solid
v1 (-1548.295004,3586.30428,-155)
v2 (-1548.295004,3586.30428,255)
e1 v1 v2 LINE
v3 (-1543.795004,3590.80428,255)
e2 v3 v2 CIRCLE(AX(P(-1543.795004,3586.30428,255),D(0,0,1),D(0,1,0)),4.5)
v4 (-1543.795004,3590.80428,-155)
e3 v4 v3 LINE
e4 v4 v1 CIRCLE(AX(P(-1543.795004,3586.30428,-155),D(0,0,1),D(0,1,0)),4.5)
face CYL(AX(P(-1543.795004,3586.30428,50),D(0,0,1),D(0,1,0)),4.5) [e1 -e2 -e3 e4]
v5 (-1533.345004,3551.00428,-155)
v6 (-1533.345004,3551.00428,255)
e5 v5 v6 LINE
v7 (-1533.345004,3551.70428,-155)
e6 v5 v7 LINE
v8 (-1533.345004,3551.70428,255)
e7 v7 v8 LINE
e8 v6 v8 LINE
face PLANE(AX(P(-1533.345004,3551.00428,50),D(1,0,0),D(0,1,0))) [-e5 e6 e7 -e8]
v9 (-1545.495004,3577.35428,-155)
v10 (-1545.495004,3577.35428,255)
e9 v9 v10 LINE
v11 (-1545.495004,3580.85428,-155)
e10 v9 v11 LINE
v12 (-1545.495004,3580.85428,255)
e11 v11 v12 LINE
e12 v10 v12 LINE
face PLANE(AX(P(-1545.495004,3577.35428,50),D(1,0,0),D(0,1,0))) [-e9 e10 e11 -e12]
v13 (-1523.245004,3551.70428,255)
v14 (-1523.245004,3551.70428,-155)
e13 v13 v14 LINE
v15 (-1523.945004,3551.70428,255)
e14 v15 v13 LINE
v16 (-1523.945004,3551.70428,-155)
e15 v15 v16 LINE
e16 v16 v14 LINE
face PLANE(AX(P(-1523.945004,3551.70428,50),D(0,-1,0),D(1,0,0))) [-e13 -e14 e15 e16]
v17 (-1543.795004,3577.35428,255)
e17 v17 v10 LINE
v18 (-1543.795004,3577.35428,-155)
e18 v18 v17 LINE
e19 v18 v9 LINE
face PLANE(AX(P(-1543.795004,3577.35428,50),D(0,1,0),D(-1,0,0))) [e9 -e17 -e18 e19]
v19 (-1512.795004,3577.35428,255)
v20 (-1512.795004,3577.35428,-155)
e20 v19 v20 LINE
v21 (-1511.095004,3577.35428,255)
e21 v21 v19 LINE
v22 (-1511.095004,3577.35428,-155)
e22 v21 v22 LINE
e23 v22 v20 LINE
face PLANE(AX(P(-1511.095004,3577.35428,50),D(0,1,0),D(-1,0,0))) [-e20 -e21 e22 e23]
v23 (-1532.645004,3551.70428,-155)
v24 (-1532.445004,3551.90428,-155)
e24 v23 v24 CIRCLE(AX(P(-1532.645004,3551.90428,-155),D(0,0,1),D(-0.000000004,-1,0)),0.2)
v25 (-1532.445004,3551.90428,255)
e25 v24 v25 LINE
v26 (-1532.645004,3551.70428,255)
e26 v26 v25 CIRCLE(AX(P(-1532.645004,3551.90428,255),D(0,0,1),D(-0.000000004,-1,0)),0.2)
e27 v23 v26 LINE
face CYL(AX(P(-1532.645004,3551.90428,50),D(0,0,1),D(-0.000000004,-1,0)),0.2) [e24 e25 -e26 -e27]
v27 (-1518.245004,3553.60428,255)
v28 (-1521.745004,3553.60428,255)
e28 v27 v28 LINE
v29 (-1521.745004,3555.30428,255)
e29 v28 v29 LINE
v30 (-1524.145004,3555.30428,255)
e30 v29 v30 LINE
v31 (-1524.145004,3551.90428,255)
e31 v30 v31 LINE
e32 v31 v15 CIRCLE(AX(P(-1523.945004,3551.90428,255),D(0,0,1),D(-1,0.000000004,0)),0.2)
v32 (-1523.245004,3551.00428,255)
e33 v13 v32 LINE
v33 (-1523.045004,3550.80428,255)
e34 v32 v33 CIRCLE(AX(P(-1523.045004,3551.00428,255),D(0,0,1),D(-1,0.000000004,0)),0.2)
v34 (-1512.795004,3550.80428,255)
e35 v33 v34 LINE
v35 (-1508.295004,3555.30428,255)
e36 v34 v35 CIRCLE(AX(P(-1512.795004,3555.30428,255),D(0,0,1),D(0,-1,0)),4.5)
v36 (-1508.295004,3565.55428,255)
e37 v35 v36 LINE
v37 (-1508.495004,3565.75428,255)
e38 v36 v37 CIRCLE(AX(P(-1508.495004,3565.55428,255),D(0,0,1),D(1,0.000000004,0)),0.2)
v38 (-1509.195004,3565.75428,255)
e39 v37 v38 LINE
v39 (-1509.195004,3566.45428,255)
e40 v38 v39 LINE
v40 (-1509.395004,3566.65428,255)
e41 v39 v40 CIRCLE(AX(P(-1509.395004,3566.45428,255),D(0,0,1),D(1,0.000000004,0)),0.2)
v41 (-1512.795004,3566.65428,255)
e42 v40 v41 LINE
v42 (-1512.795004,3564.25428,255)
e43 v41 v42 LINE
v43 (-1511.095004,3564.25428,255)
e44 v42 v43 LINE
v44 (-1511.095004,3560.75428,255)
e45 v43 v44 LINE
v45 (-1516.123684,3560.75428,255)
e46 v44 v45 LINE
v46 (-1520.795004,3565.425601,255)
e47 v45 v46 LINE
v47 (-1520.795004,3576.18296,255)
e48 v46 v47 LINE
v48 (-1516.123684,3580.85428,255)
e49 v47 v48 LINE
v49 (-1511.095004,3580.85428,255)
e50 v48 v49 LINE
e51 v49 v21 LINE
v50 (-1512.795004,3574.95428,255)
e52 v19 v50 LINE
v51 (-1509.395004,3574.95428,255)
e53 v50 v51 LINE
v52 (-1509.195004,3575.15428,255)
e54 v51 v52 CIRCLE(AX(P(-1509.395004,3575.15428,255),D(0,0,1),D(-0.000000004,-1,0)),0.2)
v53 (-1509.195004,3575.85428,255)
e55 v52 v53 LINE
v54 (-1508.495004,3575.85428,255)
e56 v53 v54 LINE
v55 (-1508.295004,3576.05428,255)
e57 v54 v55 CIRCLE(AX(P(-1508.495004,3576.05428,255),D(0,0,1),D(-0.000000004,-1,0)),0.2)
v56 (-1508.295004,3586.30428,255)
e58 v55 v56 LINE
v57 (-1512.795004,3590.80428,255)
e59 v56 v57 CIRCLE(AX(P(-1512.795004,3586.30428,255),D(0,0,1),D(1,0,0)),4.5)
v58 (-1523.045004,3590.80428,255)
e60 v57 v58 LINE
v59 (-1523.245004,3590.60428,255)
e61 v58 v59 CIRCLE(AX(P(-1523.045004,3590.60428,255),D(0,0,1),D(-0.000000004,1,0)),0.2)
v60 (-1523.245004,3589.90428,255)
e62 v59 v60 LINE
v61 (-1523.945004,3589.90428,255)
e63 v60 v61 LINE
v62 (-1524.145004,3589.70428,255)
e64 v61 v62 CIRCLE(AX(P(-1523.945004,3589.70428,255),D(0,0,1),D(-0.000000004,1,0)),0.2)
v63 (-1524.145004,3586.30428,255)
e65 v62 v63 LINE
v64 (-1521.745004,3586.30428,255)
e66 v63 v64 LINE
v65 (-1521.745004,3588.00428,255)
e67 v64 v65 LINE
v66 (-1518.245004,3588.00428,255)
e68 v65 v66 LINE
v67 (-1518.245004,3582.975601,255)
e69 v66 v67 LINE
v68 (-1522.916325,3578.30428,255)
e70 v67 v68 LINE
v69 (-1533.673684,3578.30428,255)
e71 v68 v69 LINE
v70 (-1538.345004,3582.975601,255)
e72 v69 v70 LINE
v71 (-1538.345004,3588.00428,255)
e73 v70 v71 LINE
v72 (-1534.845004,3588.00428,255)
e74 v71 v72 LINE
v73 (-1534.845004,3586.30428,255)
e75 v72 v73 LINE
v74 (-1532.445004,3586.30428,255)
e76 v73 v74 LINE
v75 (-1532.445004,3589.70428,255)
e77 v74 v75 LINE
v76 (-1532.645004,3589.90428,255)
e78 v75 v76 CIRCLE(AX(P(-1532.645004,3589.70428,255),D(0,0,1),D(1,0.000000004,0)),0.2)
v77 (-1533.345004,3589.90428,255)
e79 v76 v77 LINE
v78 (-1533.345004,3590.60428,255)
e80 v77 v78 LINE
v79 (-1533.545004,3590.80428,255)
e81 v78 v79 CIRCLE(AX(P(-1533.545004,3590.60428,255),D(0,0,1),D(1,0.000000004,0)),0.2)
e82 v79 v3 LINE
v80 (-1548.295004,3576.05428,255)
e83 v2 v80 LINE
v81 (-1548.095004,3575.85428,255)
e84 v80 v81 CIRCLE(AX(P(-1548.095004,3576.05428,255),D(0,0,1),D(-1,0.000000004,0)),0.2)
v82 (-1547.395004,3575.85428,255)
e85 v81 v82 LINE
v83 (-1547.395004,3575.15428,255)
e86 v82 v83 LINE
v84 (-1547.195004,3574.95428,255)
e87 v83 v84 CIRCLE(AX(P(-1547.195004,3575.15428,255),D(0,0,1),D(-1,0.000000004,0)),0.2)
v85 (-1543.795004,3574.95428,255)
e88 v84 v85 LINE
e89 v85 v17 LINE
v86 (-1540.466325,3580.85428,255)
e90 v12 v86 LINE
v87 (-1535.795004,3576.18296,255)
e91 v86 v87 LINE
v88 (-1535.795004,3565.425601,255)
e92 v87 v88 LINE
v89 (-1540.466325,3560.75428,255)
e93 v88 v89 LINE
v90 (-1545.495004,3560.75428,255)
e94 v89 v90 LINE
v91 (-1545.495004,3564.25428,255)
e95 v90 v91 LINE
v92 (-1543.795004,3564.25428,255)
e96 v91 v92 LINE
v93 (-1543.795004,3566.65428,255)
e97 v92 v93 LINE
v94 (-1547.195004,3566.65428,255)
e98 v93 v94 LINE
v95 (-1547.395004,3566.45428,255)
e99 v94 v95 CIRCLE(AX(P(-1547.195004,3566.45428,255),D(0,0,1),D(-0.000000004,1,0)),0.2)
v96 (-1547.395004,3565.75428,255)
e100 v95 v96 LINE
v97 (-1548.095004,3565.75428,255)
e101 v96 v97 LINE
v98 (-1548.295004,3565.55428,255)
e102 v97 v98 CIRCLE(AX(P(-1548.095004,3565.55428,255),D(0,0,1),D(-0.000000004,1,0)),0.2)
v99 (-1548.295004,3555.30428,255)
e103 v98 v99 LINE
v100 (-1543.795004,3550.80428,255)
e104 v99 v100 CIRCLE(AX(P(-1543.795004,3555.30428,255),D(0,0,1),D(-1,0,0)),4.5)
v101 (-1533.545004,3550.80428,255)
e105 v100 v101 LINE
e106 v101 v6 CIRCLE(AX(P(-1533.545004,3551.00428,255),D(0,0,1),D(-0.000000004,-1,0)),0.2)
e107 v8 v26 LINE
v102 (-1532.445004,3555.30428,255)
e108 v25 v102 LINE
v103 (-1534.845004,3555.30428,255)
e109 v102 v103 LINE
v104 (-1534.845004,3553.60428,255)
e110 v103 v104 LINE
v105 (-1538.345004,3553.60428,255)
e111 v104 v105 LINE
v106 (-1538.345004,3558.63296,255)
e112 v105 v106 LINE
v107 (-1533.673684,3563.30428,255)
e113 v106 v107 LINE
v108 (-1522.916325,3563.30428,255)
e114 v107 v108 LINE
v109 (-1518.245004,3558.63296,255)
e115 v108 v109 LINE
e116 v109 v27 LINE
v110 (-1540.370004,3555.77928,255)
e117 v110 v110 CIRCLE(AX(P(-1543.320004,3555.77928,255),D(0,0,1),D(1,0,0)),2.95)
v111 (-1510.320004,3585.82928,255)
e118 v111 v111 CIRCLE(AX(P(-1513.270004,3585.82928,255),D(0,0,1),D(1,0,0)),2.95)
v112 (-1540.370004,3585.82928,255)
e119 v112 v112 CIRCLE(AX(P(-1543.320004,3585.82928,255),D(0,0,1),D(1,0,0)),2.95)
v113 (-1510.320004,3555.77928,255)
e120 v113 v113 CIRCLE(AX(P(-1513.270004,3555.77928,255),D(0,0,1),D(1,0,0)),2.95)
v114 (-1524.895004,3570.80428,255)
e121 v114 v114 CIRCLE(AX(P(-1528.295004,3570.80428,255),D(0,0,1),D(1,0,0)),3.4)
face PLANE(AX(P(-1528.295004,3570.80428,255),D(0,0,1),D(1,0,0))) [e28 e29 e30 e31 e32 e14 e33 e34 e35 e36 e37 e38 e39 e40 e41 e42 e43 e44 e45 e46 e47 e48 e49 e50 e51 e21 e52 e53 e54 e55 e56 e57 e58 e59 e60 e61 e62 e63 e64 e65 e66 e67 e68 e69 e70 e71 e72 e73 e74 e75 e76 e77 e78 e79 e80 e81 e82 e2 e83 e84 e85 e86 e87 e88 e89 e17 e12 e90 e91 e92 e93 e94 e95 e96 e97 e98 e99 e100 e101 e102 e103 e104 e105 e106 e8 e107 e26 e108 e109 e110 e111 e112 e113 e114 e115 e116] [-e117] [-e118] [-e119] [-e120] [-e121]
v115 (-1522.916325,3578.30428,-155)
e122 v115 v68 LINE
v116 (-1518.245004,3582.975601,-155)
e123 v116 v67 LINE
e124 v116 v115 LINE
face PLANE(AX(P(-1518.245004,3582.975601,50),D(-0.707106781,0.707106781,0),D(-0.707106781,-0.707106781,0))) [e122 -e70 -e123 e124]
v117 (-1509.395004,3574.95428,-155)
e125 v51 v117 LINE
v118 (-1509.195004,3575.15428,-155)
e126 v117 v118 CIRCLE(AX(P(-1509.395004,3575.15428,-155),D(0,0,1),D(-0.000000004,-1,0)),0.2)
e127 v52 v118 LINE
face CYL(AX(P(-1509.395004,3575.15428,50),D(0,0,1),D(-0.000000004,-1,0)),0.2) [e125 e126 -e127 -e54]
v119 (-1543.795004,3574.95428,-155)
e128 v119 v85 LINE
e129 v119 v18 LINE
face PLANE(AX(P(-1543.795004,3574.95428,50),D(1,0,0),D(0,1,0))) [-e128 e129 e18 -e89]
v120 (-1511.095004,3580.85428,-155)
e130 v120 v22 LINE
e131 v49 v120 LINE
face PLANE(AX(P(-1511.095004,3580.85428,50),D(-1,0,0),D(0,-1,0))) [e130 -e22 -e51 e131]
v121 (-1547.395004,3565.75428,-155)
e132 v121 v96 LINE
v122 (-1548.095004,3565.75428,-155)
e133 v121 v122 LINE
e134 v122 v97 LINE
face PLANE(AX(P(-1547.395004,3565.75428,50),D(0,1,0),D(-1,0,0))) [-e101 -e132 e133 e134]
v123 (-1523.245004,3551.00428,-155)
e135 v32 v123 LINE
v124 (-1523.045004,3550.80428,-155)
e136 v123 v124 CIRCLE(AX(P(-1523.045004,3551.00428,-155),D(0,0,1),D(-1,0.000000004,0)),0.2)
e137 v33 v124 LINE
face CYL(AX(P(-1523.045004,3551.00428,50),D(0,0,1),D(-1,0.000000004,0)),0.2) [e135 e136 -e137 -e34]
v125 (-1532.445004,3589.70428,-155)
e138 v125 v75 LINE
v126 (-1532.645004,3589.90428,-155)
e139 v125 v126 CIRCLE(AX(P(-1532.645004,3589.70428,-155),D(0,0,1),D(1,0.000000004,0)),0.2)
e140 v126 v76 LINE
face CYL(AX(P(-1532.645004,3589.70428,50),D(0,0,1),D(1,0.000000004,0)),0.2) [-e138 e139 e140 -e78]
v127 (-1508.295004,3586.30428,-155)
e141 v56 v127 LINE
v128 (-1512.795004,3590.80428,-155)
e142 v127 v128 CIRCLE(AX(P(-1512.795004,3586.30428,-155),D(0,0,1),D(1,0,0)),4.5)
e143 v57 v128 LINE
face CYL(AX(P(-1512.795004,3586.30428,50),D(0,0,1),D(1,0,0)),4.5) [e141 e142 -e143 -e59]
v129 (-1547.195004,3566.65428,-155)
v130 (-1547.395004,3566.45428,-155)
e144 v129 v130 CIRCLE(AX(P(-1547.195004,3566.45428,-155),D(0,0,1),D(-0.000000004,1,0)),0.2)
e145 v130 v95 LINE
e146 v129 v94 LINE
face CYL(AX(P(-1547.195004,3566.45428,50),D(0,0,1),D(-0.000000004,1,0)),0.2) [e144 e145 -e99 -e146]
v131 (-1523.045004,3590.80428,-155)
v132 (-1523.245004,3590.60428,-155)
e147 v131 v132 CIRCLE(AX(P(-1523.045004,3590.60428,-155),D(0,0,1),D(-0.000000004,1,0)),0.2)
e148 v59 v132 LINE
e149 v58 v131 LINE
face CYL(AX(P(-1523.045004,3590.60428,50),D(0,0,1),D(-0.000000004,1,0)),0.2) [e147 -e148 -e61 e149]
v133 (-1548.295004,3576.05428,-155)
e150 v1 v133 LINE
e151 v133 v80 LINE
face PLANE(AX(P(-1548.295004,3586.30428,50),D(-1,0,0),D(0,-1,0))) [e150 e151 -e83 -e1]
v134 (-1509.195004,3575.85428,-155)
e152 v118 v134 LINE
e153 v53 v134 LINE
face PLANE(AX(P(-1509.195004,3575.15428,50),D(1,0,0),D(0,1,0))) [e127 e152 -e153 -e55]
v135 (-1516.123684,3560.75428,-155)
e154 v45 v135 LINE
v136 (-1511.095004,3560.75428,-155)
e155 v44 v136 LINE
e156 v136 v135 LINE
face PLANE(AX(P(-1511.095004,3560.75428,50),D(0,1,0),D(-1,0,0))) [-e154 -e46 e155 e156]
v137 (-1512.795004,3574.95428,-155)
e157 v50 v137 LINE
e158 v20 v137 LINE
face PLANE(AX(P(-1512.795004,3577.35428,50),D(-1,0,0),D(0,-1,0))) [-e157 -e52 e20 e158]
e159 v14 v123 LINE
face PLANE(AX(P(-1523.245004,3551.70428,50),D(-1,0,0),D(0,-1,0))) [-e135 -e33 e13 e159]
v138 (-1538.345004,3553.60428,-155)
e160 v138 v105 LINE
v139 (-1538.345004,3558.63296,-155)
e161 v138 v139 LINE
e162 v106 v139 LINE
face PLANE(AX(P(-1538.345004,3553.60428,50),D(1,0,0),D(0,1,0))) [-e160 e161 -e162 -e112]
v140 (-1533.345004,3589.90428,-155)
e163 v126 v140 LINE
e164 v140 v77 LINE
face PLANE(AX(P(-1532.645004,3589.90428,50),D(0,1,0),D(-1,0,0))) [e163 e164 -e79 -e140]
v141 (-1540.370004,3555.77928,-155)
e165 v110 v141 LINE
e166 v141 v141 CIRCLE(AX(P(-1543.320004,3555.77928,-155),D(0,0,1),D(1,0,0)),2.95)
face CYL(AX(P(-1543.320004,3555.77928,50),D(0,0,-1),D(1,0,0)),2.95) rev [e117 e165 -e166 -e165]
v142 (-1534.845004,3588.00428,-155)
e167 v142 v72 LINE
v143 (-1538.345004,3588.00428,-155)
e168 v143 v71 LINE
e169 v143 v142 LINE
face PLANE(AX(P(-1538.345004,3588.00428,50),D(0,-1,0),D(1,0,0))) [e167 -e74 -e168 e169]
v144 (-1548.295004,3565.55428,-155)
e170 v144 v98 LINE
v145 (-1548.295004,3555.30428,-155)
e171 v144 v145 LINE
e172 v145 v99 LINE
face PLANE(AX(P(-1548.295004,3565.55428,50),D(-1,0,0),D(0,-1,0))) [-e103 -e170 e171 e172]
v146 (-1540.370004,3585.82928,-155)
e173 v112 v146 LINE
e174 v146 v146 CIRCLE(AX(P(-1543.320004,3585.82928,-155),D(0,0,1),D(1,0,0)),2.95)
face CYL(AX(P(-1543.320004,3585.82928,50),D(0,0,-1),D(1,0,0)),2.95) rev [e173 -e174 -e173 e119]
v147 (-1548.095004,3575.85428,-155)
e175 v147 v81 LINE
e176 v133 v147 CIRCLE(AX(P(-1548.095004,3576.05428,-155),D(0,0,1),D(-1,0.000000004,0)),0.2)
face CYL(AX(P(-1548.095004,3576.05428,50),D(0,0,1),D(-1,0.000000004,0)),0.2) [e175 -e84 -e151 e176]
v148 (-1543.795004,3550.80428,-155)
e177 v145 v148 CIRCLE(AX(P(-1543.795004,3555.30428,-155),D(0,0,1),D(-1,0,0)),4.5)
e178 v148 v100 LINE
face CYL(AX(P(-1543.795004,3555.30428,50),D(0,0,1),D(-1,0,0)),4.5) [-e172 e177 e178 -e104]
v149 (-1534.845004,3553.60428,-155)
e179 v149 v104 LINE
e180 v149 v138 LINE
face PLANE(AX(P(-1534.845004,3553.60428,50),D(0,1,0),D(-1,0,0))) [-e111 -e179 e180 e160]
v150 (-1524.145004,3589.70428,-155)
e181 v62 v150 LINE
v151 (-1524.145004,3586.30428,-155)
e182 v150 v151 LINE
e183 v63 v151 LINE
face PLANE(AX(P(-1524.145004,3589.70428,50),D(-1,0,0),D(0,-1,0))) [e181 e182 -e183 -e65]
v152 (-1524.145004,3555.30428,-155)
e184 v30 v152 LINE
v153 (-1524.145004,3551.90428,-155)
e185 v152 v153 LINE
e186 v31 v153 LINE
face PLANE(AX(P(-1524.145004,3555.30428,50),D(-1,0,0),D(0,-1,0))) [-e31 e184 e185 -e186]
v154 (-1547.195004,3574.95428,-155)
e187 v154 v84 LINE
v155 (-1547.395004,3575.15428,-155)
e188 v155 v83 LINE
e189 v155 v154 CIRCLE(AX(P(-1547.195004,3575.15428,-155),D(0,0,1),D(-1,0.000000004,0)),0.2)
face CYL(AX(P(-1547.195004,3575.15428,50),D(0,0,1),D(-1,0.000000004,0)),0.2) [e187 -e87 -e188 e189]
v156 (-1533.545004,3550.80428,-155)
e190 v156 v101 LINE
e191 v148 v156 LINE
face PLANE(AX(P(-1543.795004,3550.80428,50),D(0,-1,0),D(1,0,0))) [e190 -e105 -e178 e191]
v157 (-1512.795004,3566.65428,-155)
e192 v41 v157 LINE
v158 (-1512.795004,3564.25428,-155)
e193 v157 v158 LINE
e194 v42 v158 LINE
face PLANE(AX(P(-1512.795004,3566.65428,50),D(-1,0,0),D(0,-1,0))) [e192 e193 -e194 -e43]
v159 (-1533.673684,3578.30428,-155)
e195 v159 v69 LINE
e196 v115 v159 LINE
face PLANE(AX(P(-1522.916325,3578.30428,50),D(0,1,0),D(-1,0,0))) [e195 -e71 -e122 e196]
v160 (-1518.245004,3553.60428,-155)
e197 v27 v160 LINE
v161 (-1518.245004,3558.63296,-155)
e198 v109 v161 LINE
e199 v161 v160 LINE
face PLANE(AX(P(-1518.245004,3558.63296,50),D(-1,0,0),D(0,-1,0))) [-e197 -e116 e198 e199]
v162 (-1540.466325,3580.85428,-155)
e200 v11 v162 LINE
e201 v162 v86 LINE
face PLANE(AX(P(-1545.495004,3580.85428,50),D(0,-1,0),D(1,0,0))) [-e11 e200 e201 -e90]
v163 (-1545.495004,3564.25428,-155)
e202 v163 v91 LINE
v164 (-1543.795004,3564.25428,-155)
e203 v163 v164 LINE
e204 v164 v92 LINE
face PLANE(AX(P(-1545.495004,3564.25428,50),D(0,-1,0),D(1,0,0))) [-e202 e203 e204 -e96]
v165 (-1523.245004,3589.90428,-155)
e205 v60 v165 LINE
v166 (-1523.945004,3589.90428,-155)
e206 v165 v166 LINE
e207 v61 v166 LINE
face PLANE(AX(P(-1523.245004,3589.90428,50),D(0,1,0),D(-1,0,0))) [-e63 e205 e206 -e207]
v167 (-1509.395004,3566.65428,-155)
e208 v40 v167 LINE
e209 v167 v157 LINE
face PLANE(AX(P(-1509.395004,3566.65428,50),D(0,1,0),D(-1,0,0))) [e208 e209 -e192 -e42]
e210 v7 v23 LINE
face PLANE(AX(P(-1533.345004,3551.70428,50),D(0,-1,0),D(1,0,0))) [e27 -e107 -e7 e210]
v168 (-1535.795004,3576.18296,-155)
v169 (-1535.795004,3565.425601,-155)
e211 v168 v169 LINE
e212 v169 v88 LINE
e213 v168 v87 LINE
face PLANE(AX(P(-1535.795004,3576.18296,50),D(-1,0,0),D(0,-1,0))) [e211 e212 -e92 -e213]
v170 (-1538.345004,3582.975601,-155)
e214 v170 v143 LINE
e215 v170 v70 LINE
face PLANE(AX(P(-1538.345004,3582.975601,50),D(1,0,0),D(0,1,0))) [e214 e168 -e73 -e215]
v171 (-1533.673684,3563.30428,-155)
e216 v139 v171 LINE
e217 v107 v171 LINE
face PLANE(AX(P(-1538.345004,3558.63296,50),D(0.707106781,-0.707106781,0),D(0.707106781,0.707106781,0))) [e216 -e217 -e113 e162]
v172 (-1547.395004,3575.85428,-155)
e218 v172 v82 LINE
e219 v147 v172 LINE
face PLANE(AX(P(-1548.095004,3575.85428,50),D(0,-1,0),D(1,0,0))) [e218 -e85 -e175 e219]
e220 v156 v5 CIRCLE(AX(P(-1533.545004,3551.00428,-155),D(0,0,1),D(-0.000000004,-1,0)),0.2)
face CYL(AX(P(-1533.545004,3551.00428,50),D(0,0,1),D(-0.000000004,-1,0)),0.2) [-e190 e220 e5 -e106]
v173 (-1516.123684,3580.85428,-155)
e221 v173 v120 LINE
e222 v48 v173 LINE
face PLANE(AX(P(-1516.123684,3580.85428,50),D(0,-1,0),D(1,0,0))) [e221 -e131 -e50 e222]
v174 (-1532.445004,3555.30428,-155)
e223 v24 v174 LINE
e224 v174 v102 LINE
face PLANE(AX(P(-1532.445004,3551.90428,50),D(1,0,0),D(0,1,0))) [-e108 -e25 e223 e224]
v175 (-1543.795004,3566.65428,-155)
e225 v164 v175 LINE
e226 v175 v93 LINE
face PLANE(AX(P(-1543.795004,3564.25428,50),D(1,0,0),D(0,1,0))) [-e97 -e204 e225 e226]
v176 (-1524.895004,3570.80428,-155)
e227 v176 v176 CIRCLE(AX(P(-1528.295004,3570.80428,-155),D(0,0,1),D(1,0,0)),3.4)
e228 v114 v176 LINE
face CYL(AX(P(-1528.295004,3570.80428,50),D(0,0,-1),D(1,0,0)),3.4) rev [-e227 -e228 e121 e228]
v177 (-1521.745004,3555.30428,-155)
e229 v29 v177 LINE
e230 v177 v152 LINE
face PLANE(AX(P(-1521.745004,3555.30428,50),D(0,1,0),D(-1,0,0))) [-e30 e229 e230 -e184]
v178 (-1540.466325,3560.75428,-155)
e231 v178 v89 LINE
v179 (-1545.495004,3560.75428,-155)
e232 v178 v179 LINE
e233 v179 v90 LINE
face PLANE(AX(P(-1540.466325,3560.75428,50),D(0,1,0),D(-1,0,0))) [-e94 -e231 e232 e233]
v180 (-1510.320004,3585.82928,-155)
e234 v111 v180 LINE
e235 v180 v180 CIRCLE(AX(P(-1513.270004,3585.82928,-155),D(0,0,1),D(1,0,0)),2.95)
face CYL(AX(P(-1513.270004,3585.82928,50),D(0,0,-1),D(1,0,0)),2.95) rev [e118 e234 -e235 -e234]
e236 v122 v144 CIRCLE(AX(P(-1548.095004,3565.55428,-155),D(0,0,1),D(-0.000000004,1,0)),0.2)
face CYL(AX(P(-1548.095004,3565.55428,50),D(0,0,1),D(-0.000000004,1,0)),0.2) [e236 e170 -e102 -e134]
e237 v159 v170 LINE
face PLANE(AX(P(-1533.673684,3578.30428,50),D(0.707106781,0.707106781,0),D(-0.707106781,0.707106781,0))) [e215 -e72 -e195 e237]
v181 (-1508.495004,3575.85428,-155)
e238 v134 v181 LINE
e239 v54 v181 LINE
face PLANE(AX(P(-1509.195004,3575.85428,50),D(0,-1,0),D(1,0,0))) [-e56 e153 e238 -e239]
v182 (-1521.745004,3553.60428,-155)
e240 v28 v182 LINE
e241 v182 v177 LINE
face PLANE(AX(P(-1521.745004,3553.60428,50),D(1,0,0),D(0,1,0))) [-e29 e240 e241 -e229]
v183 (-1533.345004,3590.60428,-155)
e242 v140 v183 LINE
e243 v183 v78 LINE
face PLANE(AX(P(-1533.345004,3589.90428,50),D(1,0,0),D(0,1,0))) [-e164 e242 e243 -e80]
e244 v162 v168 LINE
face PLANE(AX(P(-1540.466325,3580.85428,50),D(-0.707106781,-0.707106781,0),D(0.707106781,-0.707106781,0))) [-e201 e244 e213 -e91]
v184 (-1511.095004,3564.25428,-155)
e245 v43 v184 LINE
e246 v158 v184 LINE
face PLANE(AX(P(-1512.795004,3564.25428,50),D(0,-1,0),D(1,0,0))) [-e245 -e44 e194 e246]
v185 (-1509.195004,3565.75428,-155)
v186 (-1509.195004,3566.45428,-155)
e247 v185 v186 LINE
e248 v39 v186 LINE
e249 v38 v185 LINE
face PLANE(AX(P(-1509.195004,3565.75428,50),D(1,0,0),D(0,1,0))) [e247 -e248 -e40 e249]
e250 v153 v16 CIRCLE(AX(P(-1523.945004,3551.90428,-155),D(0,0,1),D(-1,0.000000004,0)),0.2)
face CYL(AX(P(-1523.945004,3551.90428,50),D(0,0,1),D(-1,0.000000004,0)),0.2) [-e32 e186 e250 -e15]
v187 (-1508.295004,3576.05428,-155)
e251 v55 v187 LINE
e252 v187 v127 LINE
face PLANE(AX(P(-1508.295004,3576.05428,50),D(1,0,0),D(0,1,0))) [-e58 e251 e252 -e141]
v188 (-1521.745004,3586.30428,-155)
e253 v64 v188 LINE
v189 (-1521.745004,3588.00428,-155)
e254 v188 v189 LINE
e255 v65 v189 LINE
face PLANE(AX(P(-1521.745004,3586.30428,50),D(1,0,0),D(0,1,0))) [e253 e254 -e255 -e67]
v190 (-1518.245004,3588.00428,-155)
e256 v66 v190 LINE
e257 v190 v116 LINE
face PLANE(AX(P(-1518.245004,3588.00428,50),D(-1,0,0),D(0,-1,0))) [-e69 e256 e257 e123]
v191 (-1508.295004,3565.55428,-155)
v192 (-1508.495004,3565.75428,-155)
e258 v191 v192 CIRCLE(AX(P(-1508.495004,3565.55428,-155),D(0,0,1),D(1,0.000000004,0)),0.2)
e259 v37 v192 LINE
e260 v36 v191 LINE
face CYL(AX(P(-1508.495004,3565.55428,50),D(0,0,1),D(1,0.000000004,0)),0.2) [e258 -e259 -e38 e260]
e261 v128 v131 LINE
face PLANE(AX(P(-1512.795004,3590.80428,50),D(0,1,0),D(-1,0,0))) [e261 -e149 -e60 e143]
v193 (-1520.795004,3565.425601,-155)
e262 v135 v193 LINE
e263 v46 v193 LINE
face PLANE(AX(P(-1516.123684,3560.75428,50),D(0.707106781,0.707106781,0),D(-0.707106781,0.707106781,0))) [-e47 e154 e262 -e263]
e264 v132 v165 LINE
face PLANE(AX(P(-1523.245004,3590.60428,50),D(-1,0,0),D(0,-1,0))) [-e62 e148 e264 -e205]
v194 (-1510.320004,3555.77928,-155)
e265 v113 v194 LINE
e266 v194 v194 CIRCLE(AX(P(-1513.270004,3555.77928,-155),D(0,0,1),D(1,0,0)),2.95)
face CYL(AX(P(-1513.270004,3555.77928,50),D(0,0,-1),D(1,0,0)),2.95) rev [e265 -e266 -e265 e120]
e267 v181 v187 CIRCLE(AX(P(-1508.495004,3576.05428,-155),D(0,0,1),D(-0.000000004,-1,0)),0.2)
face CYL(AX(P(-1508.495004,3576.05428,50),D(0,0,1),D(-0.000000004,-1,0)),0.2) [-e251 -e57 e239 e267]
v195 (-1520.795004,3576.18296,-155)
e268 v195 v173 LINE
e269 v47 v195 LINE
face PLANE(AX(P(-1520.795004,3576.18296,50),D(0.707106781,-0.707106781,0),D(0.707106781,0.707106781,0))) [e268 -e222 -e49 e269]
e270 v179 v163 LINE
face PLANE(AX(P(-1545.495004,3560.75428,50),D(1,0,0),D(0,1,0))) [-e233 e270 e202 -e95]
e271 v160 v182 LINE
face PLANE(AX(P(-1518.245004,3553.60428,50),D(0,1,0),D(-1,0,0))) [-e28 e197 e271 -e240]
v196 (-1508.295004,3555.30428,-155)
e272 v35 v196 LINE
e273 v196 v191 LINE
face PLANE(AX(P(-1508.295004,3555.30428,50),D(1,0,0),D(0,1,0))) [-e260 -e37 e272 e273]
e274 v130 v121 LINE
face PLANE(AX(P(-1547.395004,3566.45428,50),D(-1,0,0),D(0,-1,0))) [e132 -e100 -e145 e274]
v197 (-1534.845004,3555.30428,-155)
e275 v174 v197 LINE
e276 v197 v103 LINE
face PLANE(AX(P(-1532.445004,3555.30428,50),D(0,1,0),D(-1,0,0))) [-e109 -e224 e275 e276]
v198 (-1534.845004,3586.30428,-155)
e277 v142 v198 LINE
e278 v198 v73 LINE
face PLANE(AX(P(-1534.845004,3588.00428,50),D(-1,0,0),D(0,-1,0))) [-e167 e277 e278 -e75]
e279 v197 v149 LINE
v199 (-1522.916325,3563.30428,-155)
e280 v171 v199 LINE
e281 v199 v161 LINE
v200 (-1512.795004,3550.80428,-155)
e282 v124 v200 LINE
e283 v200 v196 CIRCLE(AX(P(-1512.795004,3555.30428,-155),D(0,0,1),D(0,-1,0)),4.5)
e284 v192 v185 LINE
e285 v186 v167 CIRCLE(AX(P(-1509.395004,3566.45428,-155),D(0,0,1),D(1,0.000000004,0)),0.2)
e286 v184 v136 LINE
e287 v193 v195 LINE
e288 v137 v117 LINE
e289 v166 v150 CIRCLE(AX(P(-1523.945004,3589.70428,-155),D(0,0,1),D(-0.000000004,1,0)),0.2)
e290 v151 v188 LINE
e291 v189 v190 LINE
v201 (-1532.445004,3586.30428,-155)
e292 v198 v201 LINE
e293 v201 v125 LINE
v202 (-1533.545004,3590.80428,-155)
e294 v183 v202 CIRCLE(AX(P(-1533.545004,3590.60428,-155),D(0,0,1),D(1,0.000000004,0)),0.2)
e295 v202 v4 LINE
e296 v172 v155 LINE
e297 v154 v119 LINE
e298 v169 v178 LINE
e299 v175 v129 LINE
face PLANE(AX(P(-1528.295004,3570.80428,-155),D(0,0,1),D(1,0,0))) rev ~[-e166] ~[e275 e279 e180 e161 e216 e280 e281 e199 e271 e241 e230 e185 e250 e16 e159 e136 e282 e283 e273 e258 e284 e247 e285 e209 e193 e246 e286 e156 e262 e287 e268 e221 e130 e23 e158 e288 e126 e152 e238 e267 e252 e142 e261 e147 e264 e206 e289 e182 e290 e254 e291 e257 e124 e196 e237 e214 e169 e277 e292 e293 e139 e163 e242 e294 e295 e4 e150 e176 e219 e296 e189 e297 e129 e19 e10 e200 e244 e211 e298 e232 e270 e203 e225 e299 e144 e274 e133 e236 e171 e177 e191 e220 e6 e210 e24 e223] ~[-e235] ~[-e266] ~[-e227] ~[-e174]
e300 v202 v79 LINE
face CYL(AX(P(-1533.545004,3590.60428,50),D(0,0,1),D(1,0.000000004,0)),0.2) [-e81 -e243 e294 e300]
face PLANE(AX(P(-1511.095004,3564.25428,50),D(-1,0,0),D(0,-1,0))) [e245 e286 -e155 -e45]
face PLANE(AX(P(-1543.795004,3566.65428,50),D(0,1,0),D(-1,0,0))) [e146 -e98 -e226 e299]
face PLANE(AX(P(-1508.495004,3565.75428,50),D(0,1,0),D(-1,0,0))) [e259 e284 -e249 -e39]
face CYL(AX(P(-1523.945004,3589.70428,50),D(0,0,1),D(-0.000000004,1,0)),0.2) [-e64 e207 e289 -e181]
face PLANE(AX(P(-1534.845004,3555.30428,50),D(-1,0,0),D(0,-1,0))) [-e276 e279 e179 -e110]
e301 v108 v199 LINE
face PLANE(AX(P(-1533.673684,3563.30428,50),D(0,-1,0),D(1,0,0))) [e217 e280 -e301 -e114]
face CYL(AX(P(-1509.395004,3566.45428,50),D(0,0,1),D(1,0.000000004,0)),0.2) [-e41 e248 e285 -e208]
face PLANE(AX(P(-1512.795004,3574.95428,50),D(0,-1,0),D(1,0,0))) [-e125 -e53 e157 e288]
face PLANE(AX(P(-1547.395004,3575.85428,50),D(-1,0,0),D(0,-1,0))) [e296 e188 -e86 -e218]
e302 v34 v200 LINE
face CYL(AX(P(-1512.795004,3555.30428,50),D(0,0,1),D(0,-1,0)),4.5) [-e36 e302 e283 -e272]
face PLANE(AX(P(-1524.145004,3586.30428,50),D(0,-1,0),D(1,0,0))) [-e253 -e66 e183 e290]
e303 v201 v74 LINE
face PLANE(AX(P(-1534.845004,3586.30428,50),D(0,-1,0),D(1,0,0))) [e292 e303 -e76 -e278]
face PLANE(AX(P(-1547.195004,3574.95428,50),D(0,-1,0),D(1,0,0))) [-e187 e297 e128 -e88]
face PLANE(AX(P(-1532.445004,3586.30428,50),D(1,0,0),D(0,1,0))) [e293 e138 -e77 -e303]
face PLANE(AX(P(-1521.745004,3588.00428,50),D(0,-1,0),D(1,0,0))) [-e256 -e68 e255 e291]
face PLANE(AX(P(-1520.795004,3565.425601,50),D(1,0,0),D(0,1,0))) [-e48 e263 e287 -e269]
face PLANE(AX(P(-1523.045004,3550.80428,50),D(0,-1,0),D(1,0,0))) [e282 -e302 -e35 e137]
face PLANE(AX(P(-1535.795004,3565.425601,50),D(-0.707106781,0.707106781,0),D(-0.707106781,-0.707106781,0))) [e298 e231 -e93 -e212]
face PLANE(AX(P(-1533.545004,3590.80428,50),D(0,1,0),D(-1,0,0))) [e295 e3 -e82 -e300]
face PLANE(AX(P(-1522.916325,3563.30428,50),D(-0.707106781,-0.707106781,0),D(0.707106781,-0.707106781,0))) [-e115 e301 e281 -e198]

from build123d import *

# Parameters (mm, degrees)
SKETCH_1_R      = 2.95
SKETCH_1_R_2    = 3.4
EXTRUDE_1_DEPTH = 205


with BuildPart() as part:
    # 草图1 → 凸台-拉伸1 (new body, symmetric)
    with BuildSketch(Plane.XY.offset(50)):
        with BuildLine():
            Line((-1518.245004392, 3588.004280474), (-1518.245004392, 3582.975600817))
            Line((-1518.245004392, 3582.975600817), (-1522.916324736, 3578.304280474))
            Line((-1522.916324736, 3578.304280474), (-1533.673684048, 3578.304280474))
            Line((-1533.673684048, 3578.304280474), (-1538.345004392, 3582.975600817))
            Line((-1538.345004392, 3582.975600817), (-1538.345004392, 3588.004280474))
            Line((-1538.345004392, 3588.004280474), (-1534.845004392, 3588.004280474))
            Line((-1534.845004392, 3588.004280474), (-1534.845004392, 3586.304280474))
            Line((-1534.845004392, 3586.304280474), (-1532.445004392, 3586.304280474))
            Line((-1532.445004392, 3586.304280474), (-1532.445004392, 3589.704280474))
            ThreePointArc((-1532.445004392, 3589.704280474), (-1532.503583036, 3589.84570183), (-1532.645004392, 3589.904280474))
            Line((-1532.645004392, 3589.904280474), (-1533.345004392, 3589.904280474))
            Line((-1533.345004392, 3589.904280474), (-1533.345004392, 3590.604280474))
            ThreePointArc((-1533.345004392, 3590.604280474), (-1533.403583036, 3590.74570183), (-1533.545004392, 3590.804280474))
            Line((-1533.545004392, 3590.804280474), (-1543.795004392, 3590.804280474))
            ThreePointArc((-1543.795004392, 3590.804280474), (-1546.976984907, 3589.486260989), (-1548.295004392, 3586.304280474))
            Line((-1548.295004392, 3586.304280474), (-1548.295004392, 3576.054280474))
            ThreePointArc((-1548.295004392, 3576.054280474), (-1548.236425748, 3575.912859117), (-1548.095004392, 3575.854280474))
            Line((-1548.095004392, 3575.854280474), (-1547.395004392, 3575.854280474))
            Line((-1547.395004392, 3575.854280474), (-1547.395004392, 3575.154280474))
            ThreePointArc((-1547.395004392, 3575.154280474), (-1547.336425748, 3575.012859117), (-1547.195004392, 3574.954280474))
            Line((-1547.195004392, 3574.954280474), (-1543.795004392, 3574.954280474))
            Line((-1543.795004392, 3574.954280474), (-1543.795004392, 3577.354280474))
            Line((-1543.795004392, 3577.354280474), (-1545.495004392, 3577.354280474))
            Line((-1545.495004392, 3577.354280474), (-1545.495004392, 3580.854280474))
            Line((-1545.495004392, 3580.854280474), (-1540.466324736, 3580.854280474))
            Line((-1540.466324736, 3580.854280474), (-1535.795004392, 3576.18296013))
            Line((-1535.795004392, 3576.18296013), (-1535.795004392, 3565.425600817))
            Line((-1535.795004392, 3565.425600817), (-1540.466324736, 3560.754280474))
            Line((-1540.466324736, 3560.754280474), (-1545.495004392, 3560.754280474))
            Line((-1545.495004392, 3560.754280474), (-1545.495004392, 3564.254280474))
            Line((-1545.495004392, 3564.254280474), (-1543.795004392, 3564.254280474))
            Line((-1543.795004392, 3564.254280474), (-1543.795004392, 3566.654280474))
            Line((-1543.795004392, 3566.654280474), (-1547.195004392, 3566.654280474))
            ThreePointArc((-1547.195004392, 3566.654280474), (-1547.336425748, 3566.59570183), (-1547.395004392, 3566.454280474))
            Line((-1547.395004392, 3566.454280474), (-1547.395004392, 3565.754280474))
            Line((-1547.395004392, 3565.754280474), (-1548.095004392, 3565.754280474))
            ThreePointArc((-1548.095004392, 3565.754280474), (-1548.236425748, 3565.69570183), (-1548.295004392, 3565.554280474))
            Line((-1548.295004392, 3565.554280474), (-1548.295004392, 3555.304280474))
            ThreePointArc((-1548.295004392, 3555.304280474), (-1546.976984907, 3552.122299958), (-1543.795004392, 3550.804280474))
            Line((-1543.795004392, 3550.804280474), (-1533.545004392, 3550.804280474))
            ThreePointArc((-1533.545004392, 3550.804280474), (-1533.403583036, 3550.862859117), (-1533.345004392, 3551.004280474))
            Line((-1533.345004392, 3551.004280474), (-1533.345004392, 3551.704280474))
            Line((-1533.345004392, 3551.704280474), (-1532.645004392, 3551.704280474))
            ThreePointArc((-1532.645004392, 3551.704280474), (-1532.503583036, 3551.762859117), (-1532.445004392, 3551.904280474))
            Line((-1532.445004392, 3551.904280474), (-1532.445004392, 3555.304280474))
            Line((-1532.445004392, 3555.304280474), (-1534.845004392, 3555.304280474))
            Line((-1534.845004392, 3555.304280474), (-1534.845004392, 3553.604280474))
            Line((-1534.845004392, 3553.604280474), (-1538.345004392, 3553.604280474))
            Line((-1538.345004392, 3553.604280474), (-1538.345004392, 3558.63296013))
            Line((-1538.345004392, 3558.63296013), (-1533.673684048, 3563.304280474))
            Line((-1533.673684048, 3563.304280474), (-1522.916324736, 3563.304280474))
            Line((-1522.916324736, 3563.304280474), (-1518.245004392, 3558.63296013))
            Line((-1518.245004392, 3558.63296013), (-1518.245004392, 3553.604280474))
            Line((-1518.245004392, 3553.604280474), (-1521.745004392, 3553.604280474))
            Line((-1521.745004392, 3553.604280474), (-1521.745004392, 3555.304280474))
            Line((-1521.745004392, 3555.304280474), (-1524.145004392, 3555.304280474))
            Line((-1524.145004392, 3555.304280474), (-1524.145004392, 3551.904280474))
            ThreePointArc((-1524.145004392, 3551.904280474), (-1524.086425748, 3551.762859117), (-1523.945004392, 3551.704280474))
            Line((-1523.945004392, 3551.704280474), (-1523.245004392, 3551.704280474))
            Line((-1523.245004392, 3551.704280474), (-1523.245004392, 3551.004280474))
            ThreePointArc((-1523.245004392, 3551.004280474), (-1523.186425748, 3550.862859117), (-1523.045004392, 3550.804280474))
            Line((-1523.045004392, 3550.804280474), (-1512.795004392, 3550.804280474))
            ThreePointArc((-1512.795004392, 3550.804280474), (-1509.613023877, 3552.122299958), (-1508.295004392, 3555.304280474))
            Line((-1508.295004392, 3555.304280474), (-1508.295004392, 3565.554280474))
            ThreePointArc((-1508.295004392, 3565.554280474), (-1508.353583036, 3565.69570183), (-1508.495004392, 3565.754280474))
            Line((-1508.495004392, 3565.754280474), (-1509.195004392, 3565.754280474))
            Line((-1509.195004392, 3565.754280474), (-1509.195004392, 3566.454280474))
            ThreePointArc((-1509.195004392, 3566.454280474), (-1509.253583036, 3566.59570183), (-1509.395004392, 3566.654280474))
            Line((-1509.395004392, 3566.654280474), (-1512.795004392, 3566.654280474))
            Line((-1512.795004392, 3566.654280474), (-1512.795004392, 3564.254280474))
            Line((-1512.795004392, 3564.254280474), (-1511.095004392, 3564.254280474))
            Line((-1511.095004392, 3564.254280474), (-1511.095004392, 3560.754280474))
            Line((-1511.095004392, 3560.754280474), (-1516.123684048, 3560.754280474))
            Line((-1516.123684048, 3560.754280474), (-1520.795004392, 3565.425600817))
            Line((-1520.795004392, 3565.425600817), (-1520.795004392, 3576.18296013))
            Line((-1520.795004392, 3576.18296013), (-1516.123684048, 3580.854280474))
            Line((-1516.123684048, 3580.854280474), (-1511.095004392, 3580.854280474))
            Line((-1511.095004392, 3580.854280474), (-1511.095004392, 3577.354280474))
            Line((-1511.095004392, 3577.354280474), (-1512.795004392, 3577.354280474))
            Line((-1512.795004392, 3577.354280474), (-1512.795004392, 3574.954280474))
            Line((-1512.795004392, 3574.954280474), (-1509.395004392, 3574.954280474))
            ThreePointArc((-1509.395004392, 3574.954280474), (-1509.253583036, 3575.012859117), (-1509.195004392, 3575.154280474))
            Line((-1509.195004392, 3575.154280474), (-1509.195004392, 3575.854280474))
            Line((-1509.195004392, 3575.854280474), (-1508.495004392, 3575.854280474))
            ThreePointArc((-1508.495004392, 3575.854280474), (-1508.353583036, 3575.912859117), (-1508.295004392, 3576.054280474))
            Line((-1508.295004392, 3576.054280474), (-1508.295004392, 3586.304280474))
            ThreePointArc((-1508.295004392, 3586.304280474), (-1509.613023877, 3589.486260989), (-1512.795004392, 3590.804280474))
            Line((-1512.795004392, 3590.804280474), (-1523.045004392, 3590.804280474))
            ThreePointArc((-1523.045004392, 3590.804280474), (-1523.186425748, 3590.74570183), (-1523.245004392, 3590.604280474))
            Line((-1523.245004392, 3590.604280474), (-1523.245004392, 3589.904280474))
            Line((-1523.245004392, 3589.904280474), (-1523.945004392, 3589.904280474))
            ThreePointArc((-1523.945004392, 3589.904280474), (-1524.086425748, 3589.84570183), (-1524.145004392, 3589.704280474))
            Line((-1524.145004392, 3589.704280474), (-1524.145004392, 3586.304280474))
            Line((-1524.145004392, 3586.304280474), (-1521.745004392, 3586.304280474))
            Line((-1521.745004392, 3586.304280474), (-1521.745004392, 3588.004280474))
            Line((-1521.745004392, 3588.004280474), (-1518.245004392, 3588.004280474))
        make_face()
        with Locations((-1513.270004392, 3555.779280474)):
            Circle(SKETCH_1_R, mode=Mode.SUBTRACT)
        with Locations((-1528.295004392, 3570.804280474)):
            Circle(SKETCH_1_R_2, mode=Mode.SUBTRACT)
        with Locations((-1513.270004392, 3585.829280474)):
            Circle(SKETCH_1_R, mode=Mode.SUBTRACT)
        with Locations((-1543.320004392, 3585.829280474)):
            Circle(SKETCH_1_R, mode=Mode.SUBTRACT)
        with Locations((-1543.320004392, 3555.779280474)):
            Circle(SKETCH_1_R, mode=Mode.SUBTRACT)
    extrude(amount=EXTRUDE_1_DEPTH, both=True)


solid = part.part
